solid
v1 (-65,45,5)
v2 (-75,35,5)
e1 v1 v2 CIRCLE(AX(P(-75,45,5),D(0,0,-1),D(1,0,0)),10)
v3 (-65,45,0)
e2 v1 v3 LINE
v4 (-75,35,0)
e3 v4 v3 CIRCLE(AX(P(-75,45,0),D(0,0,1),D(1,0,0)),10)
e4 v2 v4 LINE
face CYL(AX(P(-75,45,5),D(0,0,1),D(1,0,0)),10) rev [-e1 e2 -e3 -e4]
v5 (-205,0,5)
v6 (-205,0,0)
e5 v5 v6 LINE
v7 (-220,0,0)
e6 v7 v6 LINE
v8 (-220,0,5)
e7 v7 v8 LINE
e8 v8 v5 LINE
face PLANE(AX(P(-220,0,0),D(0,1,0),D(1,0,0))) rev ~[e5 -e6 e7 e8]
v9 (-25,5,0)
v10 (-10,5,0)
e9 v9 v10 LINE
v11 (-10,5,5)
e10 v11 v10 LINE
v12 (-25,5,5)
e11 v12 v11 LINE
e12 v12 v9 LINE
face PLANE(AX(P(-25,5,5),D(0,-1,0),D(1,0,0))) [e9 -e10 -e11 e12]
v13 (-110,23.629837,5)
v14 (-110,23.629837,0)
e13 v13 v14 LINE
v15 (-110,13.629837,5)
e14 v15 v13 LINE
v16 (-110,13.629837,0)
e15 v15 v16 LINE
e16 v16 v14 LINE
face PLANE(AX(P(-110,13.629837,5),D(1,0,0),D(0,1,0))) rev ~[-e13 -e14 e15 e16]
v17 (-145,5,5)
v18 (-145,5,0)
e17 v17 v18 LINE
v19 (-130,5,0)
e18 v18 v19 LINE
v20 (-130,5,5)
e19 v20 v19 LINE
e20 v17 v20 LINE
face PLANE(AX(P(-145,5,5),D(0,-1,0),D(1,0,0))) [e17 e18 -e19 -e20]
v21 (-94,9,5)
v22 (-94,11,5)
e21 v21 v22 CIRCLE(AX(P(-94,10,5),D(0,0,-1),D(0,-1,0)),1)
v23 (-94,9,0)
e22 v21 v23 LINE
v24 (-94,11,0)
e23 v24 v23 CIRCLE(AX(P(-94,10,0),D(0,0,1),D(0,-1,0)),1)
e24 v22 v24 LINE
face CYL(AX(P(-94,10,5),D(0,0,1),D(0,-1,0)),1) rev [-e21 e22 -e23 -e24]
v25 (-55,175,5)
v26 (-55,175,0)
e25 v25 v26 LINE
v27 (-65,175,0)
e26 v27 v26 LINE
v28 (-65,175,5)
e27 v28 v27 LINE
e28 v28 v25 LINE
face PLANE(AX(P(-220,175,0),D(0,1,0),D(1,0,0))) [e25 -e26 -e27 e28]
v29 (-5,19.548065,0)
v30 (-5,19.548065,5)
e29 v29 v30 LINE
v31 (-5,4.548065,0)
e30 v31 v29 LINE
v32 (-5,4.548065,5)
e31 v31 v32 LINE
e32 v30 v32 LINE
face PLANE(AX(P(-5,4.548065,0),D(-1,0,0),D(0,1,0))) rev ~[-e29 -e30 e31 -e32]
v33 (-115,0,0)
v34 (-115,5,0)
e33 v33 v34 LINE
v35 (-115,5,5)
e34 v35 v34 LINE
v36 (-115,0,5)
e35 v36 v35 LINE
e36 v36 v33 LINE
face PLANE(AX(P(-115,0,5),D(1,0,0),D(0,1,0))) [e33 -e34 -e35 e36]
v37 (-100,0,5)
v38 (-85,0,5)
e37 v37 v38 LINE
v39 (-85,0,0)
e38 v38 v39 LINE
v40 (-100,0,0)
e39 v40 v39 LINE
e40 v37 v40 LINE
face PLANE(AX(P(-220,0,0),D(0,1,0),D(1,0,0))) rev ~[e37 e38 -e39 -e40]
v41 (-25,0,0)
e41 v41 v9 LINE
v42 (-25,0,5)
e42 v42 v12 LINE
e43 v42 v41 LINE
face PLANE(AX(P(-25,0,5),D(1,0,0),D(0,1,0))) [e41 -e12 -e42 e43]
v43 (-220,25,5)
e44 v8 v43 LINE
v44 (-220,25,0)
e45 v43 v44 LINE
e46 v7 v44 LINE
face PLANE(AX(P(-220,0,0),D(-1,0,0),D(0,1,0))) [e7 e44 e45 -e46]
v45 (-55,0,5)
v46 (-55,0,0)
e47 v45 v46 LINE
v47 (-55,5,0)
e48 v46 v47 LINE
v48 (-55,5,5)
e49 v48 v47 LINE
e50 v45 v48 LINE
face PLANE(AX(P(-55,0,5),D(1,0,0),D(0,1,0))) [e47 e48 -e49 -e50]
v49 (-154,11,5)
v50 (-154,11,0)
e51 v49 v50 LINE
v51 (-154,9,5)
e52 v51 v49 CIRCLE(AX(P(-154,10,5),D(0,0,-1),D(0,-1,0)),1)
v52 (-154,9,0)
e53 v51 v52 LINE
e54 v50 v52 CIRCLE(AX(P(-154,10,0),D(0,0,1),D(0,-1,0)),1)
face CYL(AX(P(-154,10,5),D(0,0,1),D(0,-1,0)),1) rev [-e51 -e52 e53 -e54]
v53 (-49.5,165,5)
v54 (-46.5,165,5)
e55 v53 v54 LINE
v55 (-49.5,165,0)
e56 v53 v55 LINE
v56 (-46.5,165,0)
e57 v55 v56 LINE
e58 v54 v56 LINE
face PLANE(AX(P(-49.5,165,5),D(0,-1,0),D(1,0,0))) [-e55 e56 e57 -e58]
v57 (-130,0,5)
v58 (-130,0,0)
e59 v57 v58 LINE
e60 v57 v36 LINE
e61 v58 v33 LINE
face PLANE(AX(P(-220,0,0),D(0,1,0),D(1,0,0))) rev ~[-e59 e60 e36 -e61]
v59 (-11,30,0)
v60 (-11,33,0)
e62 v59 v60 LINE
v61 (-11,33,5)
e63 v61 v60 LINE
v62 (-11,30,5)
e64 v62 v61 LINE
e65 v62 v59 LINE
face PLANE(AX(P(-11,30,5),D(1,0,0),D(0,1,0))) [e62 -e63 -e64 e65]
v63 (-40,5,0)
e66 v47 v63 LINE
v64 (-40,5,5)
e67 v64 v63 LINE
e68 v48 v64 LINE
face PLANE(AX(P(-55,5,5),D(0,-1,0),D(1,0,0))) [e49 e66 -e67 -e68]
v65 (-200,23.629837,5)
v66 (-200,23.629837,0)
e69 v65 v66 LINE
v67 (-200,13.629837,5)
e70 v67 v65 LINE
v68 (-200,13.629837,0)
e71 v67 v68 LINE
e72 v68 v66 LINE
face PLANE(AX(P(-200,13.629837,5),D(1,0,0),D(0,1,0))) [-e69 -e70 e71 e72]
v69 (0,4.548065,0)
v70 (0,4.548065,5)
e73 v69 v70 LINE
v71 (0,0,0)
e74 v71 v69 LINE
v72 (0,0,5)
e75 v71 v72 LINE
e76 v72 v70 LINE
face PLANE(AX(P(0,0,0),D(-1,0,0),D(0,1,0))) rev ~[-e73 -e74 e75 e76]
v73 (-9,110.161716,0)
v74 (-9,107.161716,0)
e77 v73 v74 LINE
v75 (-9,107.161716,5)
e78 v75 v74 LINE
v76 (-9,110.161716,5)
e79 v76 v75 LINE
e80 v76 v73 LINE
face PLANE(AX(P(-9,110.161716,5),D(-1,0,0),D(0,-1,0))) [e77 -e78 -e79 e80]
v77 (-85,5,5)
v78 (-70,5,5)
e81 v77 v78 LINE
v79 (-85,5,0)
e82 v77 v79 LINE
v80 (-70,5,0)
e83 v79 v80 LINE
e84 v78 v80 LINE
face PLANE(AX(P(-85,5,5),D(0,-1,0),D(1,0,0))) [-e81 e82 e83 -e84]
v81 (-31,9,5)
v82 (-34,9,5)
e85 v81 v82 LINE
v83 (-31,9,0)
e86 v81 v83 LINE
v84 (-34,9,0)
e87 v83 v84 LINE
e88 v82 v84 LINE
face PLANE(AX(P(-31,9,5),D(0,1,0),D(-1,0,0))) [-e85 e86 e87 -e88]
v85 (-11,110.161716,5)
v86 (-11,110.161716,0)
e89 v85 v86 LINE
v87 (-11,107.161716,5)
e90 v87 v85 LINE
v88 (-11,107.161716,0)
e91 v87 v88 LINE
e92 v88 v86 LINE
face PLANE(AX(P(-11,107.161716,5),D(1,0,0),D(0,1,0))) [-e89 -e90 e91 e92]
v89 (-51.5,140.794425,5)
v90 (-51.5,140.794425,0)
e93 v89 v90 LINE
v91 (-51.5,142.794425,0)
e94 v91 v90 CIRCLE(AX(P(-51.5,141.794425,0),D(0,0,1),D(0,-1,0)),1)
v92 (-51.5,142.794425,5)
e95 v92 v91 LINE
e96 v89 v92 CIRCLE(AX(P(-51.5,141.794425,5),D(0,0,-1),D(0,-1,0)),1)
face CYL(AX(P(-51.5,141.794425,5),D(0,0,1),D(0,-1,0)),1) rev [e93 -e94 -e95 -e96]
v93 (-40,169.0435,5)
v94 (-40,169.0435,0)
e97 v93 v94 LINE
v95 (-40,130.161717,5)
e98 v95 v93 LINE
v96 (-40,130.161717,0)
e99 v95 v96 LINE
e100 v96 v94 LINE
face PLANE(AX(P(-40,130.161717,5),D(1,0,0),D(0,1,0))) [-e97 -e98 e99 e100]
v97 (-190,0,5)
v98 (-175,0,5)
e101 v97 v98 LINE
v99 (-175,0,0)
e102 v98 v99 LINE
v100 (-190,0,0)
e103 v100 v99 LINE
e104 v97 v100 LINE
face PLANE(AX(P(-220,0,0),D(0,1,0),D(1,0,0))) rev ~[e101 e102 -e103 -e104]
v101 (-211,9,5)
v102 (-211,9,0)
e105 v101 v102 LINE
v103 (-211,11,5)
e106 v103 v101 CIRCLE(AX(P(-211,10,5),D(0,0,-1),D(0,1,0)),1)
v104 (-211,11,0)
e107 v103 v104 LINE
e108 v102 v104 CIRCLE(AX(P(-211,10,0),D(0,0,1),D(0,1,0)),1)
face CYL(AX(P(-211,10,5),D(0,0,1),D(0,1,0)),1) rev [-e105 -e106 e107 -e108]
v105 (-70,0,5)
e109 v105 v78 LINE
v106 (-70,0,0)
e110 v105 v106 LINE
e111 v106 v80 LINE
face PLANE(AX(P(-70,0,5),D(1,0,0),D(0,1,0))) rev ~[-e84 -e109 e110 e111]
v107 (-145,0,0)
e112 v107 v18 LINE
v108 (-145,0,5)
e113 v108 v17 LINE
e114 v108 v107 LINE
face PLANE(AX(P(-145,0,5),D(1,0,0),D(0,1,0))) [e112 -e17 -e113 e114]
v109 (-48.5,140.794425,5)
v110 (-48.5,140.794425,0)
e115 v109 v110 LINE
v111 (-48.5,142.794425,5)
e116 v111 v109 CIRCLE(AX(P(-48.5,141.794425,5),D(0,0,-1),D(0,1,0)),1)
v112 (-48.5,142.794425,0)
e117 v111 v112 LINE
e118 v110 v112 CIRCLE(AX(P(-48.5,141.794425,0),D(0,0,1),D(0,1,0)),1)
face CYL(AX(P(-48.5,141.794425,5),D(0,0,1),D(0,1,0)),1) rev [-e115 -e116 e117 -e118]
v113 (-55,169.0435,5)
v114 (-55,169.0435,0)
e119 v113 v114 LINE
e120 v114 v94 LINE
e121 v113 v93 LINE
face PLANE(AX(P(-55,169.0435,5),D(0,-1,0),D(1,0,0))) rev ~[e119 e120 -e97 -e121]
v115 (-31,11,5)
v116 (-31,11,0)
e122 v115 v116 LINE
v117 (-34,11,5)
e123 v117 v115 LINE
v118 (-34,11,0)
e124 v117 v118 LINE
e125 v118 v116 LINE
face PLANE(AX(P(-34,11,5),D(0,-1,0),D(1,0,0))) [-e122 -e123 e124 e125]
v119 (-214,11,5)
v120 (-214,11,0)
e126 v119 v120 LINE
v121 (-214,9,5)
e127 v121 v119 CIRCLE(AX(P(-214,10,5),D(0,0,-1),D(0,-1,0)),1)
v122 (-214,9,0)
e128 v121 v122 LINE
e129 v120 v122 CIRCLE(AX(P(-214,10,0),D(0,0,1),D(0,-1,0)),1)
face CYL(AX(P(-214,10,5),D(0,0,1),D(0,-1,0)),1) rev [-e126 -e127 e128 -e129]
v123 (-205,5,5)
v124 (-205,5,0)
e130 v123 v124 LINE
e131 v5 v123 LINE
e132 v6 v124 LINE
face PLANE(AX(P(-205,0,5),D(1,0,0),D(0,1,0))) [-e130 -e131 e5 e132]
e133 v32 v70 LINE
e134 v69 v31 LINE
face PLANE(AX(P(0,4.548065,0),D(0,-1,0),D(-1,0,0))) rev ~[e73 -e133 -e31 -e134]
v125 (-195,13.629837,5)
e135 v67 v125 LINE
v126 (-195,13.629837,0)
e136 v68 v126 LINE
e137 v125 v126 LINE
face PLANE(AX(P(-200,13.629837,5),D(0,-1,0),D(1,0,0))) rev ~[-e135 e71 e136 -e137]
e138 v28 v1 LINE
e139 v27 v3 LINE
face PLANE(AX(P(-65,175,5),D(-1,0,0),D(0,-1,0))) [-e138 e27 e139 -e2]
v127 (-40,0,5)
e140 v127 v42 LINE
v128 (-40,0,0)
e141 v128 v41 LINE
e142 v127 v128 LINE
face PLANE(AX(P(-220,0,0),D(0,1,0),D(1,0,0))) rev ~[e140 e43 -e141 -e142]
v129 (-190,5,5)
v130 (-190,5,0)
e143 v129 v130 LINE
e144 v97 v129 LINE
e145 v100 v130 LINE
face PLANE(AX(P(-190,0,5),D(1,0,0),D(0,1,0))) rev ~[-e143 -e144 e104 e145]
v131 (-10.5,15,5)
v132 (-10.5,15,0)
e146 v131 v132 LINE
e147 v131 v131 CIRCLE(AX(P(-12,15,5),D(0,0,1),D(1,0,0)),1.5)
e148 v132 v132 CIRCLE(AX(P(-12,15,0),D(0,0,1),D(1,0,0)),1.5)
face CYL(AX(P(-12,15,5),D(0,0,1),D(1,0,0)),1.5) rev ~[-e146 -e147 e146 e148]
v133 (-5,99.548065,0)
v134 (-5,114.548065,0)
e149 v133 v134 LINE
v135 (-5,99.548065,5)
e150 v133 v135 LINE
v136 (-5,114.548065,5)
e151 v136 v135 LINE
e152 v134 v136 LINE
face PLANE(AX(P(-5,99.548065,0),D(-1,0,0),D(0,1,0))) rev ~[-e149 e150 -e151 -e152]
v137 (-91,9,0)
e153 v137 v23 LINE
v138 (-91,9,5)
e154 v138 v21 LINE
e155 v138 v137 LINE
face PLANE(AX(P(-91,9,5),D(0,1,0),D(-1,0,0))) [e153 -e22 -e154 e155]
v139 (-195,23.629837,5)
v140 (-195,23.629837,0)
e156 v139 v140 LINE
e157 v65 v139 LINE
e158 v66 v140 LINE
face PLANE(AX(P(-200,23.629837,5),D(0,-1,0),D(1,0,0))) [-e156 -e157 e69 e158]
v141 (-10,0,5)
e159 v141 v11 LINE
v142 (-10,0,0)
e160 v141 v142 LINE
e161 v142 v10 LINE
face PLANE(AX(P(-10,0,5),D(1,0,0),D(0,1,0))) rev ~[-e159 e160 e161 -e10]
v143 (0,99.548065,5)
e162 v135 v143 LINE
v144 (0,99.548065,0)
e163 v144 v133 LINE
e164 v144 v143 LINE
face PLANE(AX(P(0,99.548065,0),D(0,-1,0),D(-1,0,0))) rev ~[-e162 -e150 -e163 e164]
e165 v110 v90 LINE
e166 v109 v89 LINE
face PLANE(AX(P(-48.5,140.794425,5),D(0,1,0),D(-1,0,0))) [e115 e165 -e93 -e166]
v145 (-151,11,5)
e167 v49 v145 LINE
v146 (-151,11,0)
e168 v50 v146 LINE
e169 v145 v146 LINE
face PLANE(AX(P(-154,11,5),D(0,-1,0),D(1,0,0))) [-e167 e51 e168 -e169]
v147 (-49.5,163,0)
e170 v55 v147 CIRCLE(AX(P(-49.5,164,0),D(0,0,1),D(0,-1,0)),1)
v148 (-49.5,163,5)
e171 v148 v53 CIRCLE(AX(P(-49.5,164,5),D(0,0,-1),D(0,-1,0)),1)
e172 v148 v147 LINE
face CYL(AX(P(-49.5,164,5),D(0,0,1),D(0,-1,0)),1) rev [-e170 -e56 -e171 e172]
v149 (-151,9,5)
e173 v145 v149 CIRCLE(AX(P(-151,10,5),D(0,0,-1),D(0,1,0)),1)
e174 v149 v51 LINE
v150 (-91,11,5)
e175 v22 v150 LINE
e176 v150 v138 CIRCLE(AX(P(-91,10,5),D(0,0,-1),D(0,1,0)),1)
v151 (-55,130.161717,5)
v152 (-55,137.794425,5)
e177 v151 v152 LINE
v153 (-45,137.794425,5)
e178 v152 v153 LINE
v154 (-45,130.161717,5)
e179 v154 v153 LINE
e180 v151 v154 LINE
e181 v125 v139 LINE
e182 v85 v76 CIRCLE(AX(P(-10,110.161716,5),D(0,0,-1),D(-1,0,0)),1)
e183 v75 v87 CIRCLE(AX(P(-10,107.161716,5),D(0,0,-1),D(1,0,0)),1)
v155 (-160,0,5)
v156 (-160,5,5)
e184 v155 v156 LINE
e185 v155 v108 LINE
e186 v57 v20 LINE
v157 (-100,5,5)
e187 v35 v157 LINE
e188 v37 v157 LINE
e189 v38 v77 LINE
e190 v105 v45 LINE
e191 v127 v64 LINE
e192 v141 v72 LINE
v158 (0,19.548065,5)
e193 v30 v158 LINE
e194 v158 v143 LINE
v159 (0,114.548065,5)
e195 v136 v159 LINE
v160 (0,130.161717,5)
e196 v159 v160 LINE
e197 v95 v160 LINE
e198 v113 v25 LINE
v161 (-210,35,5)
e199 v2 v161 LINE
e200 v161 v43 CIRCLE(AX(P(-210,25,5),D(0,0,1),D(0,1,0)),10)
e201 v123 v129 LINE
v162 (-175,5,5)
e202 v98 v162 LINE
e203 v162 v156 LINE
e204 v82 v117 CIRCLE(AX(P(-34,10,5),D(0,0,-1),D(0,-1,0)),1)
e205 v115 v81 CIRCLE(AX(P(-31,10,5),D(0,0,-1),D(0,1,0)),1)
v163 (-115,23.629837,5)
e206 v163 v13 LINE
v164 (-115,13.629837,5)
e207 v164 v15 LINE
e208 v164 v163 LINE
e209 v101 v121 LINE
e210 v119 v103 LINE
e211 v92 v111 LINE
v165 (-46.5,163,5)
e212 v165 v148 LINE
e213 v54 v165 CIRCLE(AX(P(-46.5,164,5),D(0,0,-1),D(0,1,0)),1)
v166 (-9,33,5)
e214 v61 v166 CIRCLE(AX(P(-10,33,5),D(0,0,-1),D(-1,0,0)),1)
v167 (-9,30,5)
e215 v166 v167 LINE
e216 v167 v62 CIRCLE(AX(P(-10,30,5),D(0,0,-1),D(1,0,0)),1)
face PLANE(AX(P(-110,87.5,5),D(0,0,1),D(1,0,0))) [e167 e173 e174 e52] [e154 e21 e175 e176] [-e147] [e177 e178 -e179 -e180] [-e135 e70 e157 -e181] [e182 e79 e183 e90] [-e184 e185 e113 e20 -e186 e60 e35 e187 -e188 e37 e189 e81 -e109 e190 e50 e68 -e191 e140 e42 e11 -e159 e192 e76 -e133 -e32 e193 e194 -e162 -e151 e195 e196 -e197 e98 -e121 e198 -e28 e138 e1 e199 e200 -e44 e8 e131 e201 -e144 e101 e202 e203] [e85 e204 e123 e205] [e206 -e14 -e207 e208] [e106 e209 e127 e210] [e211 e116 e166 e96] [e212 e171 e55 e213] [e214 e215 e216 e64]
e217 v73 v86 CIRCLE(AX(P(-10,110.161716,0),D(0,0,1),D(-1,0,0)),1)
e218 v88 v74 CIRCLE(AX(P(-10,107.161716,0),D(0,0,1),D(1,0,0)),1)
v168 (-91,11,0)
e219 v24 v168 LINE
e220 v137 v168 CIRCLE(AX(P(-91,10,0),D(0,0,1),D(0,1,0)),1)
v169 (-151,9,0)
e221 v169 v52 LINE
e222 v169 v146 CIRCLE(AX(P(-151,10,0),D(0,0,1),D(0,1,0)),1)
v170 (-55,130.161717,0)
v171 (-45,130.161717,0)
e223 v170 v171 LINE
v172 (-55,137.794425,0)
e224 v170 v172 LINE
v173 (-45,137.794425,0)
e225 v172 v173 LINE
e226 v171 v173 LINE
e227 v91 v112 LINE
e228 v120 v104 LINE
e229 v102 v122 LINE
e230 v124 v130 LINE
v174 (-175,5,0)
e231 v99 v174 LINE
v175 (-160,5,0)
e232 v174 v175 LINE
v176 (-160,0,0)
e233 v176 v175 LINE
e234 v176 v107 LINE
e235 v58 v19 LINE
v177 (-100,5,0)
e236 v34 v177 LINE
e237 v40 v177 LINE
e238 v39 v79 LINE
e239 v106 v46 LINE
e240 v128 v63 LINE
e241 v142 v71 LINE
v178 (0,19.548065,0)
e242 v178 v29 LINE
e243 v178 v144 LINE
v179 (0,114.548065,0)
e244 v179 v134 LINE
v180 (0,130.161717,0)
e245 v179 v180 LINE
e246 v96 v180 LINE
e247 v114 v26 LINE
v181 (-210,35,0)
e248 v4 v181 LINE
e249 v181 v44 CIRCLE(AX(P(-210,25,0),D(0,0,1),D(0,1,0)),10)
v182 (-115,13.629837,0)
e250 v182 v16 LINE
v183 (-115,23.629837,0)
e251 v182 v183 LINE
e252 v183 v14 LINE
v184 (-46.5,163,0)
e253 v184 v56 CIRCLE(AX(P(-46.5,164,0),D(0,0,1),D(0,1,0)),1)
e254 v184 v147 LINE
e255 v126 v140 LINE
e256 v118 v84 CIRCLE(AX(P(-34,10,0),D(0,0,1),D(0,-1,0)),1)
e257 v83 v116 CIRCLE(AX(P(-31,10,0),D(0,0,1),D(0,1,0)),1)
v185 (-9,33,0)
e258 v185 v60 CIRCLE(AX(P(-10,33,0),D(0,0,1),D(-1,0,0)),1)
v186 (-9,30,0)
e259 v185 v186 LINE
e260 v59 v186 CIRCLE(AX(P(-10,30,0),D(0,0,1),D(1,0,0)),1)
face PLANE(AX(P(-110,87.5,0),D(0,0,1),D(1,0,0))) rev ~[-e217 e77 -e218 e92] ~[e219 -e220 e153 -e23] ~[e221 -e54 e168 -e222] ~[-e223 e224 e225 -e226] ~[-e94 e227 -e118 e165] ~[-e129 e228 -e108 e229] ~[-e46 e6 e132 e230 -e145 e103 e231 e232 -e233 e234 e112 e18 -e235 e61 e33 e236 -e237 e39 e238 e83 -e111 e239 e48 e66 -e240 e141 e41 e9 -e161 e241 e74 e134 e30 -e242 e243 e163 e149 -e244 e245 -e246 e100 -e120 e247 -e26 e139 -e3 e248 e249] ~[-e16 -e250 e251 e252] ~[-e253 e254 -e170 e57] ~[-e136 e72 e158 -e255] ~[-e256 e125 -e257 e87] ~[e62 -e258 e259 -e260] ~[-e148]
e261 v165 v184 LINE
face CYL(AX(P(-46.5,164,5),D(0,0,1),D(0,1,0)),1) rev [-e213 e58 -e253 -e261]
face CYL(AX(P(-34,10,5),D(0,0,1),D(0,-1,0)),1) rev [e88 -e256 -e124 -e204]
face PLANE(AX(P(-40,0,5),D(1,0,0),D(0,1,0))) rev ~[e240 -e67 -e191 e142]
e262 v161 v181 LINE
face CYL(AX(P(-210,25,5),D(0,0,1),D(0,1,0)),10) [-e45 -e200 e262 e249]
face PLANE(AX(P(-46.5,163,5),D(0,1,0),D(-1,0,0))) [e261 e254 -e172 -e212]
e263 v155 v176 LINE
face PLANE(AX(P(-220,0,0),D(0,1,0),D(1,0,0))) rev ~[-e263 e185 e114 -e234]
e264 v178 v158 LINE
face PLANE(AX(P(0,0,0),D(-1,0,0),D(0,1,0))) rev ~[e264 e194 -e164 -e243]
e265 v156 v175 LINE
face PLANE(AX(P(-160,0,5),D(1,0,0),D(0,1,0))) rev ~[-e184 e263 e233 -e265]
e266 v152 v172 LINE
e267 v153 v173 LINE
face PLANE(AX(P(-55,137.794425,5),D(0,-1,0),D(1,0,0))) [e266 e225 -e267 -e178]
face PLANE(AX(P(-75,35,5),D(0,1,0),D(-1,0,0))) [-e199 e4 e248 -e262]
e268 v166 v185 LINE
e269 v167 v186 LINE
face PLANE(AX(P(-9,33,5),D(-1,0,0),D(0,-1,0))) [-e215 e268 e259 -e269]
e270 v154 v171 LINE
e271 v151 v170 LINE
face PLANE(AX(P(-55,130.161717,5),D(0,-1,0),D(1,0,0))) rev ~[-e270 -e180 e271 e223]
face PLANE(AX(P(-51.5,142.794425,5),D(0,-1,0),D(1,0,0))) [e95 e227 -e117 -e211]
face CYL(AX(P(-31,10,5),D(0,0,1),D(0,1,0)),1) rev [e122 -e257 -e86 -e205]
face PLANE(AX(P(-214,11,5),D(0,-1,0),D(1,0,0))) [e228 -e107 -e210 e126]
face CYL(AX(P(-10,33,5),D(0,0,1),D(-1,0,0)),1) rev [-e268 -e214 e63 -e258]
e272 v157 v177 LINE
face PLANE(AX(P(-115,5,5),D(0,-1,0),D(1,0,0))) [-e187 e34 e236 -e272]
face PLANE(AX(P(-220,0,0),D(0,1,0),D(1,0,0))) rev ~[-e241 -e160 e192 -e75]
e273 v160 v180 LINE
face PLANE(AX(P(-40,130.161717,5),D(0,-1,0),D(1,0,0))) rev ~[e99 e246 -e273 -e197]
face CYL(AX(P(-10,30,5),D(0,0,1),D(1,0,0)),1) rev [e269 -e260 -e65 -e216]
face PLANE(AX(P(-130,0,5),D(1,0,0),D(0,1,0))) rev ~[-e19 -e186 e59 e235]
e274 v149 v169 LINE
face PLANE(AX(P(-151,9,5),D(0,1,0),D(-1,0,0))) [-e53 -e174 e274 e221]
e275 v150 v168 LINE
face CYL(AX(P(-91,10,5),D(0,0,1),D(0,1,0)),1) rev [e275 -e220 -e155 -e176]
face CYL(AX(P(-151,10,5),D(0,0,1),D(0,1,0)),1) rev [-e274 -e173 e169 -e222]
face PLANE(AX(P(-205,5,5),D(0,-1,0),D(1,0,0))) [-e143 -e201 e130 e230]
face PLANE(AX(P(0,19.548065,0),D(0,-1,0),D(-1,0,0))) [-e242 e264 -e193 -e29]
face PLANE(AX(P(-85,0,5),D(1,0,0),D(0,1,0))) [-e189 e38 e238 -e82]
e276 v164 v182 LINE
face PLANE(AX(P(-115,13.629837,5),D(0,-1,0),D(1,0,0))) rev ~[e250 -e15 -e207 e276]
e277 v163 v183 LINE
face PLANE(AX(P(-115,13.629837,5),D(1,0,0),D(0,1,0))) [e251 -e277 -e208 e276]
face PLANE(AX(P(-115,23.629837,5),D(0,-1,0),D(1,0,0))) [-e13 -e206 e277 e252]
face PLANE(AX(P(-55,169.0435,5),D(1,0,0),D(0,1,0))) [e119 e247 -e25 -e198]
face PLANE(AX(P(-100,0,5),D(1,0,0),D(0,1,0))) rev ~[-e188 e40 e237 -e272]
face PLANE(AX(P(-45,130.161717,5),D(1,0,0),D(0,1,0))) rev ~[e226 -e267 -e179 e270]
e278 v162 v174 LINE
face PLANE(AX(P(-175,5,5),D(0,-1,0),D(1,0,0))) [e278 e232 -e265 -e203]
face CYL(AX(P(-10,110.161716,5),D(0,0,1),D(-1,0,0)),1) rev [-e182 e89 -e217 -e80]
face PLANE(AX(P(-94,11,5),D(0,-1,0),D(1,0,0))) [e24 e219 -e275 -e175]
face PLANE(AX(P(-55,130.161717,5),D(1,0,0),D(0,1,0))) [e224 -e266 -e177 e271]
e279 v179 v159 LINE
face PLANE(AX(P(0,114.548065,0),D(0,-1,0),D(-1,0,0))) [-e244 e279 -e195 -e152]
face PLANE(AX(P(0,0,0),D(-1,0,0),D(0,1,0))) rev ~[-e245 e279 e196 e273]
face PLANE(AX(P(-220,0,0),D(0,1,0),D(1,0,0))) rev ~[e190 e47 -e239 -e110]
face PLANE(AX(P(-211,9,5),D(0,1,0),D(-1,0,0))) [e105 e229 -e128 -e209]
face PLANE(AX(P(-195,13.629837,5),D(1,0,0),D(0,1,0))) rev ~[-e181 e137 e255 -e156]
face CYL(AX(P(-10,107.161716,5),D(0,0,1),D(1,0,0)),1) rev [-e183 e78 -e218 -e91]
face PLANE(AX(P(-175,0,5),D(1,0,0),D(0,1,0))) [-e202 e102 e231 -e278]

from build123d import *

# Parameters (mm, degrees)
SKETCH1_W           = 220
SKETCH1_H           = 175
BOSS_EXTRUDE1_DEPTH = 5
SKETCH2_W           = 15
SKETCH2_H           = 5
CUT_EXTRUDE1_DEPTH  = 282.15831839
LPATTERN1_COUNT     = 7
LPATTERN1_PITCH     = 30
SKETCH3_W           = 15
SKETCH3_H           = 5.956499639
CUT_EXTRUDE2_DEPTH  = 282.15831839
LPATTERN2_COUNT     = 7
LPATTERN2_PITCH     = 30
SKETCH4_R           = 1.5
CUT_EXTRUDE3_DEPTH  = 282.15831839
SKETCH5_W           = 5
SKETCH5_H           = 15
CUT_EXTRUDE4_DEPTH  = 282.15831839
SKETCH7_W           = 40
SKETCH7_H           = 44.8382835
SKETCH7_W_2         = 10
SKETCH7_H_2         = 7.632708493
CUT_EXTRUDE6_DEPTH  = 282.15831839
SKETCH8_W           = 5
SKETCH8_H           = 10
CUT_EXTRUDE7_DEPTH  = 282.15831839
CUT_EXTRUDE8_DEPTH  = 282.15831839


with BuildPart() as part:
    # Sketch1 → Boss-Extrude1 (new body)
    with BuildSketch(Plane.XY):
        with Locations((-110, 87.5)):
            Rectangle(SKETCH1_W, SKETCH1_H)
    extrude(amount=BOSS_EXTRUDE1_DEPTH)

    # Sketch2 → Cut-Extrude1 (cut, through all)
    with BuildSketch(Plane.XY.offset(5)):
        with Locations((-197.5, 2.5)):
            Rectangle(SKETCH2_W, SKETCH2_H)
    cut_extrude1 = extrude(amount=-CUT_EXTRUDE1_DEPTH, mode=Mode.SUBTRACT)

    # LPattern1: Cut-Extrude1 ×7
    with Locations(*[(i * LPATTERN1_PITCH, 0, 0) for i in range(1, LPATTERN1_COUNT)]):
        add(cut_extrude1, mode=Mode.SUBTRACT)

    # Sketch3 → Cut-Extrude2 (cut, through all)
    with BuildSketch(Plane.XY.offset(5)):
        with Locations((-197.5, 172.021750181)):
            Rectangle(SKETCH3_W, SKETCH3_H)
    cut_extrude2 = extrude(amount=-CUT_EXTRUDE2_DEPTH, mode=Mode.SUBTRACT)

    # LPattern2: Cut-Extrude2 ×7
    with Locations(*[(i * LPATTERN2_PITCH, 0, 0) for i in range(1, LPATTERN2_COUNT)]):
        add(cut_extrude2, mode=Mode.SUBTRACT)

    # Sketch4 → Cut-Extrude3 (cut, through all)
    with BuildSketch(Plane.XY.offset(5)):
        with Locations((-12, 15)):
            Circle(SKETCH4_R)
    extrude(amount=-CUT_EXTRUDE3_DEPTH, mode=Mode.SUBTRACT)

    # Sketch5 → Cut-Extrude4 (cut, through all)
    with BuildSketch(Plane(origin=(0, 0, 0), x_dir=(-1, 0, 0), z_dir=(0, 0, -1))):
        with Locations((2.5, 107.048065362)):
            Rectangle(SKETCH5_W, SKETCH5_H)
        with Locations((2.5, 12.048065362)):
            Rectangle(SKETCH5_W, SKETCH5_H)
    extrude(amount=-CUT_EXTRUDE4_DEPTH, mode=Mode.SUBTRACT)

    # Sketch7 → Cut-Extrude6 (cut, through all)
    with BuildSketch(Plane.XY.offset(5)):
        with Locations((-20, 152.58085825)):
            Rectangle(SKETCH7_W, SKETCH7_H)
        with Locations((-50, 133.978070747)):
            Rectangle(SKETCH7_W_2, SKETCH7_H_2)
    extrude(amount=-CUT_EXTRUDE6_DEPTH, mode=Mode.SUBTRACT)

    # Sketch8 → Cut-Extrude7 (cut, through all)
    with BuildSketch(Plane.XY.offset(5)):
        with BuildLine():
            Line((-220, 175), (-65, 175))
            Line((-65, 175), (-65, 45))
            ThreePointArc((-65, 45), (-67.928932188, 37.928932188), (-75, 35))
            Line((-75, 35), (-210, 35))
            ThreePointArc((-210, 35), (-217.071067812, 32.071067812), (-220, 25))
            Line((-220, 25), (-220, 175))
        make_face()
        with Locations((-197.5, 18.629836595)):
            Rectangle(SKETCH8_W, SKETCH8_H)
        with Locations((-112.5, 18.629836595)):
            Rectangle(SKETCH8_W, SKETCH8_H)
    extrude(amount=-CUT_EXTRUDE7_DEPTH, mode=Mode.SUBTRACT)

    # Sketch9 → Cut-Extrude8 (cut, through all)
    with BuildSketch(Plane.XY.offset(5)):
        with BuildLine():
            Line((-214, 11), (-211, 11))
            ThreePointArc((-211, 11), (-210, 10), (-211, 9))
            Line((-211, 9), (-214, 9))
            ThreePointArc((-214, 9), (-215, 10), (-214, 11))
        make_face()
        with BuildLine():
            Line((-154, 11), (-151, 11))
            ThreePointArc((-151, 11), (-150, 10), (-151, 9))
            Line((-151, 9), (-154, 9))
            ThreePointArc((-154, 9), (-155, 10), (-154, 11))
        make_face()
        with BuildLine():
            Line((-94, 11), (-91, 11))
            ThreePointArc((-91, 11), (-90, 10), (-91, 9))
            Line((-91, 9), (-94, 9))
            ThreePointArc((-94, 9), (-95, 10), (-94, 11))
        make_face()
        with BuildLine():
            Line((-34, 11), (-31, 11))
            ThreePointArc((-31, 11), (-30, 10), (-31, 9))
            Line((-31, 9), (-34, 9))
            ThreePointArc((-34, 9), (-35, 10), (-34, 11))
        make_face()
        with BuildLine():
            Line((-11, 30), (-11, 33))
            ThreePointArc((-11, 33), (-10, 34), (-9, 33))
            Line((-9, 33), (-9, 30))
            ThreePointArc((-9, 30), (-10, 29), (-11, 30))
        make_face()
        with BuildLine():
            Line((-11, 107.1617165), (-11, 110.1617165))
            ThreePointArc((-11, 110.1617165), (-10, 111.1617165), (-9, 110.1617165))
            Line((-9, 110.1617165), (-9, 107.1617165))
            ThreePointArc((-9, 107.1617165), (-10, 106.1617165), (-11, 107.1617165))
        make_face()
        with BuildLine():
            Line((-51.5, 142.794424993), (-48.5, 142.794424993))
            ThreePointArc((-48.5, 142.794424993), (-47.5, 141.794424993), (-48.5, 140.794424993))
            Line((-48.5, 140.794424993), (-51.5, 140.794424993))
            ThreePointArc((-51.5, 140.794424993), (-52.5, 141.794424993), (-51.5, 142.794424993))
        make_face()
        with BuildLine():
            Line((-49.5, 165), (-46.5, 165))
            ThreePointArc((-46.5, 165), (-45.5, 164), (-46.5, 163))
            Line((-46.5, 163), (-49.5, 163))
            ThreePointArc((-49.5, 163), (-50.5, 164), (-49.5, 165))
        make_face()
        with BuildLine():
            Line((-51.5, 134.1617165), (-48.5, 134.1617165))
            ThreePointArc((-48.5, 134.1617165), (-47.5, 133.1617165), (-48.5, 132.1617165))
            Line((-48.5, 132.1617165), (-51.5, 132.1617165))
            ThreePointArc((-51.5, 132.1617165), (-52.5, 133.1617165), (-51.5, 134.1617165))
        make_face()
    extrude(amount=-CUT_EXTRUDE8_DEPTH, mode=Mode.SUBTRACT)


solid = part.part
